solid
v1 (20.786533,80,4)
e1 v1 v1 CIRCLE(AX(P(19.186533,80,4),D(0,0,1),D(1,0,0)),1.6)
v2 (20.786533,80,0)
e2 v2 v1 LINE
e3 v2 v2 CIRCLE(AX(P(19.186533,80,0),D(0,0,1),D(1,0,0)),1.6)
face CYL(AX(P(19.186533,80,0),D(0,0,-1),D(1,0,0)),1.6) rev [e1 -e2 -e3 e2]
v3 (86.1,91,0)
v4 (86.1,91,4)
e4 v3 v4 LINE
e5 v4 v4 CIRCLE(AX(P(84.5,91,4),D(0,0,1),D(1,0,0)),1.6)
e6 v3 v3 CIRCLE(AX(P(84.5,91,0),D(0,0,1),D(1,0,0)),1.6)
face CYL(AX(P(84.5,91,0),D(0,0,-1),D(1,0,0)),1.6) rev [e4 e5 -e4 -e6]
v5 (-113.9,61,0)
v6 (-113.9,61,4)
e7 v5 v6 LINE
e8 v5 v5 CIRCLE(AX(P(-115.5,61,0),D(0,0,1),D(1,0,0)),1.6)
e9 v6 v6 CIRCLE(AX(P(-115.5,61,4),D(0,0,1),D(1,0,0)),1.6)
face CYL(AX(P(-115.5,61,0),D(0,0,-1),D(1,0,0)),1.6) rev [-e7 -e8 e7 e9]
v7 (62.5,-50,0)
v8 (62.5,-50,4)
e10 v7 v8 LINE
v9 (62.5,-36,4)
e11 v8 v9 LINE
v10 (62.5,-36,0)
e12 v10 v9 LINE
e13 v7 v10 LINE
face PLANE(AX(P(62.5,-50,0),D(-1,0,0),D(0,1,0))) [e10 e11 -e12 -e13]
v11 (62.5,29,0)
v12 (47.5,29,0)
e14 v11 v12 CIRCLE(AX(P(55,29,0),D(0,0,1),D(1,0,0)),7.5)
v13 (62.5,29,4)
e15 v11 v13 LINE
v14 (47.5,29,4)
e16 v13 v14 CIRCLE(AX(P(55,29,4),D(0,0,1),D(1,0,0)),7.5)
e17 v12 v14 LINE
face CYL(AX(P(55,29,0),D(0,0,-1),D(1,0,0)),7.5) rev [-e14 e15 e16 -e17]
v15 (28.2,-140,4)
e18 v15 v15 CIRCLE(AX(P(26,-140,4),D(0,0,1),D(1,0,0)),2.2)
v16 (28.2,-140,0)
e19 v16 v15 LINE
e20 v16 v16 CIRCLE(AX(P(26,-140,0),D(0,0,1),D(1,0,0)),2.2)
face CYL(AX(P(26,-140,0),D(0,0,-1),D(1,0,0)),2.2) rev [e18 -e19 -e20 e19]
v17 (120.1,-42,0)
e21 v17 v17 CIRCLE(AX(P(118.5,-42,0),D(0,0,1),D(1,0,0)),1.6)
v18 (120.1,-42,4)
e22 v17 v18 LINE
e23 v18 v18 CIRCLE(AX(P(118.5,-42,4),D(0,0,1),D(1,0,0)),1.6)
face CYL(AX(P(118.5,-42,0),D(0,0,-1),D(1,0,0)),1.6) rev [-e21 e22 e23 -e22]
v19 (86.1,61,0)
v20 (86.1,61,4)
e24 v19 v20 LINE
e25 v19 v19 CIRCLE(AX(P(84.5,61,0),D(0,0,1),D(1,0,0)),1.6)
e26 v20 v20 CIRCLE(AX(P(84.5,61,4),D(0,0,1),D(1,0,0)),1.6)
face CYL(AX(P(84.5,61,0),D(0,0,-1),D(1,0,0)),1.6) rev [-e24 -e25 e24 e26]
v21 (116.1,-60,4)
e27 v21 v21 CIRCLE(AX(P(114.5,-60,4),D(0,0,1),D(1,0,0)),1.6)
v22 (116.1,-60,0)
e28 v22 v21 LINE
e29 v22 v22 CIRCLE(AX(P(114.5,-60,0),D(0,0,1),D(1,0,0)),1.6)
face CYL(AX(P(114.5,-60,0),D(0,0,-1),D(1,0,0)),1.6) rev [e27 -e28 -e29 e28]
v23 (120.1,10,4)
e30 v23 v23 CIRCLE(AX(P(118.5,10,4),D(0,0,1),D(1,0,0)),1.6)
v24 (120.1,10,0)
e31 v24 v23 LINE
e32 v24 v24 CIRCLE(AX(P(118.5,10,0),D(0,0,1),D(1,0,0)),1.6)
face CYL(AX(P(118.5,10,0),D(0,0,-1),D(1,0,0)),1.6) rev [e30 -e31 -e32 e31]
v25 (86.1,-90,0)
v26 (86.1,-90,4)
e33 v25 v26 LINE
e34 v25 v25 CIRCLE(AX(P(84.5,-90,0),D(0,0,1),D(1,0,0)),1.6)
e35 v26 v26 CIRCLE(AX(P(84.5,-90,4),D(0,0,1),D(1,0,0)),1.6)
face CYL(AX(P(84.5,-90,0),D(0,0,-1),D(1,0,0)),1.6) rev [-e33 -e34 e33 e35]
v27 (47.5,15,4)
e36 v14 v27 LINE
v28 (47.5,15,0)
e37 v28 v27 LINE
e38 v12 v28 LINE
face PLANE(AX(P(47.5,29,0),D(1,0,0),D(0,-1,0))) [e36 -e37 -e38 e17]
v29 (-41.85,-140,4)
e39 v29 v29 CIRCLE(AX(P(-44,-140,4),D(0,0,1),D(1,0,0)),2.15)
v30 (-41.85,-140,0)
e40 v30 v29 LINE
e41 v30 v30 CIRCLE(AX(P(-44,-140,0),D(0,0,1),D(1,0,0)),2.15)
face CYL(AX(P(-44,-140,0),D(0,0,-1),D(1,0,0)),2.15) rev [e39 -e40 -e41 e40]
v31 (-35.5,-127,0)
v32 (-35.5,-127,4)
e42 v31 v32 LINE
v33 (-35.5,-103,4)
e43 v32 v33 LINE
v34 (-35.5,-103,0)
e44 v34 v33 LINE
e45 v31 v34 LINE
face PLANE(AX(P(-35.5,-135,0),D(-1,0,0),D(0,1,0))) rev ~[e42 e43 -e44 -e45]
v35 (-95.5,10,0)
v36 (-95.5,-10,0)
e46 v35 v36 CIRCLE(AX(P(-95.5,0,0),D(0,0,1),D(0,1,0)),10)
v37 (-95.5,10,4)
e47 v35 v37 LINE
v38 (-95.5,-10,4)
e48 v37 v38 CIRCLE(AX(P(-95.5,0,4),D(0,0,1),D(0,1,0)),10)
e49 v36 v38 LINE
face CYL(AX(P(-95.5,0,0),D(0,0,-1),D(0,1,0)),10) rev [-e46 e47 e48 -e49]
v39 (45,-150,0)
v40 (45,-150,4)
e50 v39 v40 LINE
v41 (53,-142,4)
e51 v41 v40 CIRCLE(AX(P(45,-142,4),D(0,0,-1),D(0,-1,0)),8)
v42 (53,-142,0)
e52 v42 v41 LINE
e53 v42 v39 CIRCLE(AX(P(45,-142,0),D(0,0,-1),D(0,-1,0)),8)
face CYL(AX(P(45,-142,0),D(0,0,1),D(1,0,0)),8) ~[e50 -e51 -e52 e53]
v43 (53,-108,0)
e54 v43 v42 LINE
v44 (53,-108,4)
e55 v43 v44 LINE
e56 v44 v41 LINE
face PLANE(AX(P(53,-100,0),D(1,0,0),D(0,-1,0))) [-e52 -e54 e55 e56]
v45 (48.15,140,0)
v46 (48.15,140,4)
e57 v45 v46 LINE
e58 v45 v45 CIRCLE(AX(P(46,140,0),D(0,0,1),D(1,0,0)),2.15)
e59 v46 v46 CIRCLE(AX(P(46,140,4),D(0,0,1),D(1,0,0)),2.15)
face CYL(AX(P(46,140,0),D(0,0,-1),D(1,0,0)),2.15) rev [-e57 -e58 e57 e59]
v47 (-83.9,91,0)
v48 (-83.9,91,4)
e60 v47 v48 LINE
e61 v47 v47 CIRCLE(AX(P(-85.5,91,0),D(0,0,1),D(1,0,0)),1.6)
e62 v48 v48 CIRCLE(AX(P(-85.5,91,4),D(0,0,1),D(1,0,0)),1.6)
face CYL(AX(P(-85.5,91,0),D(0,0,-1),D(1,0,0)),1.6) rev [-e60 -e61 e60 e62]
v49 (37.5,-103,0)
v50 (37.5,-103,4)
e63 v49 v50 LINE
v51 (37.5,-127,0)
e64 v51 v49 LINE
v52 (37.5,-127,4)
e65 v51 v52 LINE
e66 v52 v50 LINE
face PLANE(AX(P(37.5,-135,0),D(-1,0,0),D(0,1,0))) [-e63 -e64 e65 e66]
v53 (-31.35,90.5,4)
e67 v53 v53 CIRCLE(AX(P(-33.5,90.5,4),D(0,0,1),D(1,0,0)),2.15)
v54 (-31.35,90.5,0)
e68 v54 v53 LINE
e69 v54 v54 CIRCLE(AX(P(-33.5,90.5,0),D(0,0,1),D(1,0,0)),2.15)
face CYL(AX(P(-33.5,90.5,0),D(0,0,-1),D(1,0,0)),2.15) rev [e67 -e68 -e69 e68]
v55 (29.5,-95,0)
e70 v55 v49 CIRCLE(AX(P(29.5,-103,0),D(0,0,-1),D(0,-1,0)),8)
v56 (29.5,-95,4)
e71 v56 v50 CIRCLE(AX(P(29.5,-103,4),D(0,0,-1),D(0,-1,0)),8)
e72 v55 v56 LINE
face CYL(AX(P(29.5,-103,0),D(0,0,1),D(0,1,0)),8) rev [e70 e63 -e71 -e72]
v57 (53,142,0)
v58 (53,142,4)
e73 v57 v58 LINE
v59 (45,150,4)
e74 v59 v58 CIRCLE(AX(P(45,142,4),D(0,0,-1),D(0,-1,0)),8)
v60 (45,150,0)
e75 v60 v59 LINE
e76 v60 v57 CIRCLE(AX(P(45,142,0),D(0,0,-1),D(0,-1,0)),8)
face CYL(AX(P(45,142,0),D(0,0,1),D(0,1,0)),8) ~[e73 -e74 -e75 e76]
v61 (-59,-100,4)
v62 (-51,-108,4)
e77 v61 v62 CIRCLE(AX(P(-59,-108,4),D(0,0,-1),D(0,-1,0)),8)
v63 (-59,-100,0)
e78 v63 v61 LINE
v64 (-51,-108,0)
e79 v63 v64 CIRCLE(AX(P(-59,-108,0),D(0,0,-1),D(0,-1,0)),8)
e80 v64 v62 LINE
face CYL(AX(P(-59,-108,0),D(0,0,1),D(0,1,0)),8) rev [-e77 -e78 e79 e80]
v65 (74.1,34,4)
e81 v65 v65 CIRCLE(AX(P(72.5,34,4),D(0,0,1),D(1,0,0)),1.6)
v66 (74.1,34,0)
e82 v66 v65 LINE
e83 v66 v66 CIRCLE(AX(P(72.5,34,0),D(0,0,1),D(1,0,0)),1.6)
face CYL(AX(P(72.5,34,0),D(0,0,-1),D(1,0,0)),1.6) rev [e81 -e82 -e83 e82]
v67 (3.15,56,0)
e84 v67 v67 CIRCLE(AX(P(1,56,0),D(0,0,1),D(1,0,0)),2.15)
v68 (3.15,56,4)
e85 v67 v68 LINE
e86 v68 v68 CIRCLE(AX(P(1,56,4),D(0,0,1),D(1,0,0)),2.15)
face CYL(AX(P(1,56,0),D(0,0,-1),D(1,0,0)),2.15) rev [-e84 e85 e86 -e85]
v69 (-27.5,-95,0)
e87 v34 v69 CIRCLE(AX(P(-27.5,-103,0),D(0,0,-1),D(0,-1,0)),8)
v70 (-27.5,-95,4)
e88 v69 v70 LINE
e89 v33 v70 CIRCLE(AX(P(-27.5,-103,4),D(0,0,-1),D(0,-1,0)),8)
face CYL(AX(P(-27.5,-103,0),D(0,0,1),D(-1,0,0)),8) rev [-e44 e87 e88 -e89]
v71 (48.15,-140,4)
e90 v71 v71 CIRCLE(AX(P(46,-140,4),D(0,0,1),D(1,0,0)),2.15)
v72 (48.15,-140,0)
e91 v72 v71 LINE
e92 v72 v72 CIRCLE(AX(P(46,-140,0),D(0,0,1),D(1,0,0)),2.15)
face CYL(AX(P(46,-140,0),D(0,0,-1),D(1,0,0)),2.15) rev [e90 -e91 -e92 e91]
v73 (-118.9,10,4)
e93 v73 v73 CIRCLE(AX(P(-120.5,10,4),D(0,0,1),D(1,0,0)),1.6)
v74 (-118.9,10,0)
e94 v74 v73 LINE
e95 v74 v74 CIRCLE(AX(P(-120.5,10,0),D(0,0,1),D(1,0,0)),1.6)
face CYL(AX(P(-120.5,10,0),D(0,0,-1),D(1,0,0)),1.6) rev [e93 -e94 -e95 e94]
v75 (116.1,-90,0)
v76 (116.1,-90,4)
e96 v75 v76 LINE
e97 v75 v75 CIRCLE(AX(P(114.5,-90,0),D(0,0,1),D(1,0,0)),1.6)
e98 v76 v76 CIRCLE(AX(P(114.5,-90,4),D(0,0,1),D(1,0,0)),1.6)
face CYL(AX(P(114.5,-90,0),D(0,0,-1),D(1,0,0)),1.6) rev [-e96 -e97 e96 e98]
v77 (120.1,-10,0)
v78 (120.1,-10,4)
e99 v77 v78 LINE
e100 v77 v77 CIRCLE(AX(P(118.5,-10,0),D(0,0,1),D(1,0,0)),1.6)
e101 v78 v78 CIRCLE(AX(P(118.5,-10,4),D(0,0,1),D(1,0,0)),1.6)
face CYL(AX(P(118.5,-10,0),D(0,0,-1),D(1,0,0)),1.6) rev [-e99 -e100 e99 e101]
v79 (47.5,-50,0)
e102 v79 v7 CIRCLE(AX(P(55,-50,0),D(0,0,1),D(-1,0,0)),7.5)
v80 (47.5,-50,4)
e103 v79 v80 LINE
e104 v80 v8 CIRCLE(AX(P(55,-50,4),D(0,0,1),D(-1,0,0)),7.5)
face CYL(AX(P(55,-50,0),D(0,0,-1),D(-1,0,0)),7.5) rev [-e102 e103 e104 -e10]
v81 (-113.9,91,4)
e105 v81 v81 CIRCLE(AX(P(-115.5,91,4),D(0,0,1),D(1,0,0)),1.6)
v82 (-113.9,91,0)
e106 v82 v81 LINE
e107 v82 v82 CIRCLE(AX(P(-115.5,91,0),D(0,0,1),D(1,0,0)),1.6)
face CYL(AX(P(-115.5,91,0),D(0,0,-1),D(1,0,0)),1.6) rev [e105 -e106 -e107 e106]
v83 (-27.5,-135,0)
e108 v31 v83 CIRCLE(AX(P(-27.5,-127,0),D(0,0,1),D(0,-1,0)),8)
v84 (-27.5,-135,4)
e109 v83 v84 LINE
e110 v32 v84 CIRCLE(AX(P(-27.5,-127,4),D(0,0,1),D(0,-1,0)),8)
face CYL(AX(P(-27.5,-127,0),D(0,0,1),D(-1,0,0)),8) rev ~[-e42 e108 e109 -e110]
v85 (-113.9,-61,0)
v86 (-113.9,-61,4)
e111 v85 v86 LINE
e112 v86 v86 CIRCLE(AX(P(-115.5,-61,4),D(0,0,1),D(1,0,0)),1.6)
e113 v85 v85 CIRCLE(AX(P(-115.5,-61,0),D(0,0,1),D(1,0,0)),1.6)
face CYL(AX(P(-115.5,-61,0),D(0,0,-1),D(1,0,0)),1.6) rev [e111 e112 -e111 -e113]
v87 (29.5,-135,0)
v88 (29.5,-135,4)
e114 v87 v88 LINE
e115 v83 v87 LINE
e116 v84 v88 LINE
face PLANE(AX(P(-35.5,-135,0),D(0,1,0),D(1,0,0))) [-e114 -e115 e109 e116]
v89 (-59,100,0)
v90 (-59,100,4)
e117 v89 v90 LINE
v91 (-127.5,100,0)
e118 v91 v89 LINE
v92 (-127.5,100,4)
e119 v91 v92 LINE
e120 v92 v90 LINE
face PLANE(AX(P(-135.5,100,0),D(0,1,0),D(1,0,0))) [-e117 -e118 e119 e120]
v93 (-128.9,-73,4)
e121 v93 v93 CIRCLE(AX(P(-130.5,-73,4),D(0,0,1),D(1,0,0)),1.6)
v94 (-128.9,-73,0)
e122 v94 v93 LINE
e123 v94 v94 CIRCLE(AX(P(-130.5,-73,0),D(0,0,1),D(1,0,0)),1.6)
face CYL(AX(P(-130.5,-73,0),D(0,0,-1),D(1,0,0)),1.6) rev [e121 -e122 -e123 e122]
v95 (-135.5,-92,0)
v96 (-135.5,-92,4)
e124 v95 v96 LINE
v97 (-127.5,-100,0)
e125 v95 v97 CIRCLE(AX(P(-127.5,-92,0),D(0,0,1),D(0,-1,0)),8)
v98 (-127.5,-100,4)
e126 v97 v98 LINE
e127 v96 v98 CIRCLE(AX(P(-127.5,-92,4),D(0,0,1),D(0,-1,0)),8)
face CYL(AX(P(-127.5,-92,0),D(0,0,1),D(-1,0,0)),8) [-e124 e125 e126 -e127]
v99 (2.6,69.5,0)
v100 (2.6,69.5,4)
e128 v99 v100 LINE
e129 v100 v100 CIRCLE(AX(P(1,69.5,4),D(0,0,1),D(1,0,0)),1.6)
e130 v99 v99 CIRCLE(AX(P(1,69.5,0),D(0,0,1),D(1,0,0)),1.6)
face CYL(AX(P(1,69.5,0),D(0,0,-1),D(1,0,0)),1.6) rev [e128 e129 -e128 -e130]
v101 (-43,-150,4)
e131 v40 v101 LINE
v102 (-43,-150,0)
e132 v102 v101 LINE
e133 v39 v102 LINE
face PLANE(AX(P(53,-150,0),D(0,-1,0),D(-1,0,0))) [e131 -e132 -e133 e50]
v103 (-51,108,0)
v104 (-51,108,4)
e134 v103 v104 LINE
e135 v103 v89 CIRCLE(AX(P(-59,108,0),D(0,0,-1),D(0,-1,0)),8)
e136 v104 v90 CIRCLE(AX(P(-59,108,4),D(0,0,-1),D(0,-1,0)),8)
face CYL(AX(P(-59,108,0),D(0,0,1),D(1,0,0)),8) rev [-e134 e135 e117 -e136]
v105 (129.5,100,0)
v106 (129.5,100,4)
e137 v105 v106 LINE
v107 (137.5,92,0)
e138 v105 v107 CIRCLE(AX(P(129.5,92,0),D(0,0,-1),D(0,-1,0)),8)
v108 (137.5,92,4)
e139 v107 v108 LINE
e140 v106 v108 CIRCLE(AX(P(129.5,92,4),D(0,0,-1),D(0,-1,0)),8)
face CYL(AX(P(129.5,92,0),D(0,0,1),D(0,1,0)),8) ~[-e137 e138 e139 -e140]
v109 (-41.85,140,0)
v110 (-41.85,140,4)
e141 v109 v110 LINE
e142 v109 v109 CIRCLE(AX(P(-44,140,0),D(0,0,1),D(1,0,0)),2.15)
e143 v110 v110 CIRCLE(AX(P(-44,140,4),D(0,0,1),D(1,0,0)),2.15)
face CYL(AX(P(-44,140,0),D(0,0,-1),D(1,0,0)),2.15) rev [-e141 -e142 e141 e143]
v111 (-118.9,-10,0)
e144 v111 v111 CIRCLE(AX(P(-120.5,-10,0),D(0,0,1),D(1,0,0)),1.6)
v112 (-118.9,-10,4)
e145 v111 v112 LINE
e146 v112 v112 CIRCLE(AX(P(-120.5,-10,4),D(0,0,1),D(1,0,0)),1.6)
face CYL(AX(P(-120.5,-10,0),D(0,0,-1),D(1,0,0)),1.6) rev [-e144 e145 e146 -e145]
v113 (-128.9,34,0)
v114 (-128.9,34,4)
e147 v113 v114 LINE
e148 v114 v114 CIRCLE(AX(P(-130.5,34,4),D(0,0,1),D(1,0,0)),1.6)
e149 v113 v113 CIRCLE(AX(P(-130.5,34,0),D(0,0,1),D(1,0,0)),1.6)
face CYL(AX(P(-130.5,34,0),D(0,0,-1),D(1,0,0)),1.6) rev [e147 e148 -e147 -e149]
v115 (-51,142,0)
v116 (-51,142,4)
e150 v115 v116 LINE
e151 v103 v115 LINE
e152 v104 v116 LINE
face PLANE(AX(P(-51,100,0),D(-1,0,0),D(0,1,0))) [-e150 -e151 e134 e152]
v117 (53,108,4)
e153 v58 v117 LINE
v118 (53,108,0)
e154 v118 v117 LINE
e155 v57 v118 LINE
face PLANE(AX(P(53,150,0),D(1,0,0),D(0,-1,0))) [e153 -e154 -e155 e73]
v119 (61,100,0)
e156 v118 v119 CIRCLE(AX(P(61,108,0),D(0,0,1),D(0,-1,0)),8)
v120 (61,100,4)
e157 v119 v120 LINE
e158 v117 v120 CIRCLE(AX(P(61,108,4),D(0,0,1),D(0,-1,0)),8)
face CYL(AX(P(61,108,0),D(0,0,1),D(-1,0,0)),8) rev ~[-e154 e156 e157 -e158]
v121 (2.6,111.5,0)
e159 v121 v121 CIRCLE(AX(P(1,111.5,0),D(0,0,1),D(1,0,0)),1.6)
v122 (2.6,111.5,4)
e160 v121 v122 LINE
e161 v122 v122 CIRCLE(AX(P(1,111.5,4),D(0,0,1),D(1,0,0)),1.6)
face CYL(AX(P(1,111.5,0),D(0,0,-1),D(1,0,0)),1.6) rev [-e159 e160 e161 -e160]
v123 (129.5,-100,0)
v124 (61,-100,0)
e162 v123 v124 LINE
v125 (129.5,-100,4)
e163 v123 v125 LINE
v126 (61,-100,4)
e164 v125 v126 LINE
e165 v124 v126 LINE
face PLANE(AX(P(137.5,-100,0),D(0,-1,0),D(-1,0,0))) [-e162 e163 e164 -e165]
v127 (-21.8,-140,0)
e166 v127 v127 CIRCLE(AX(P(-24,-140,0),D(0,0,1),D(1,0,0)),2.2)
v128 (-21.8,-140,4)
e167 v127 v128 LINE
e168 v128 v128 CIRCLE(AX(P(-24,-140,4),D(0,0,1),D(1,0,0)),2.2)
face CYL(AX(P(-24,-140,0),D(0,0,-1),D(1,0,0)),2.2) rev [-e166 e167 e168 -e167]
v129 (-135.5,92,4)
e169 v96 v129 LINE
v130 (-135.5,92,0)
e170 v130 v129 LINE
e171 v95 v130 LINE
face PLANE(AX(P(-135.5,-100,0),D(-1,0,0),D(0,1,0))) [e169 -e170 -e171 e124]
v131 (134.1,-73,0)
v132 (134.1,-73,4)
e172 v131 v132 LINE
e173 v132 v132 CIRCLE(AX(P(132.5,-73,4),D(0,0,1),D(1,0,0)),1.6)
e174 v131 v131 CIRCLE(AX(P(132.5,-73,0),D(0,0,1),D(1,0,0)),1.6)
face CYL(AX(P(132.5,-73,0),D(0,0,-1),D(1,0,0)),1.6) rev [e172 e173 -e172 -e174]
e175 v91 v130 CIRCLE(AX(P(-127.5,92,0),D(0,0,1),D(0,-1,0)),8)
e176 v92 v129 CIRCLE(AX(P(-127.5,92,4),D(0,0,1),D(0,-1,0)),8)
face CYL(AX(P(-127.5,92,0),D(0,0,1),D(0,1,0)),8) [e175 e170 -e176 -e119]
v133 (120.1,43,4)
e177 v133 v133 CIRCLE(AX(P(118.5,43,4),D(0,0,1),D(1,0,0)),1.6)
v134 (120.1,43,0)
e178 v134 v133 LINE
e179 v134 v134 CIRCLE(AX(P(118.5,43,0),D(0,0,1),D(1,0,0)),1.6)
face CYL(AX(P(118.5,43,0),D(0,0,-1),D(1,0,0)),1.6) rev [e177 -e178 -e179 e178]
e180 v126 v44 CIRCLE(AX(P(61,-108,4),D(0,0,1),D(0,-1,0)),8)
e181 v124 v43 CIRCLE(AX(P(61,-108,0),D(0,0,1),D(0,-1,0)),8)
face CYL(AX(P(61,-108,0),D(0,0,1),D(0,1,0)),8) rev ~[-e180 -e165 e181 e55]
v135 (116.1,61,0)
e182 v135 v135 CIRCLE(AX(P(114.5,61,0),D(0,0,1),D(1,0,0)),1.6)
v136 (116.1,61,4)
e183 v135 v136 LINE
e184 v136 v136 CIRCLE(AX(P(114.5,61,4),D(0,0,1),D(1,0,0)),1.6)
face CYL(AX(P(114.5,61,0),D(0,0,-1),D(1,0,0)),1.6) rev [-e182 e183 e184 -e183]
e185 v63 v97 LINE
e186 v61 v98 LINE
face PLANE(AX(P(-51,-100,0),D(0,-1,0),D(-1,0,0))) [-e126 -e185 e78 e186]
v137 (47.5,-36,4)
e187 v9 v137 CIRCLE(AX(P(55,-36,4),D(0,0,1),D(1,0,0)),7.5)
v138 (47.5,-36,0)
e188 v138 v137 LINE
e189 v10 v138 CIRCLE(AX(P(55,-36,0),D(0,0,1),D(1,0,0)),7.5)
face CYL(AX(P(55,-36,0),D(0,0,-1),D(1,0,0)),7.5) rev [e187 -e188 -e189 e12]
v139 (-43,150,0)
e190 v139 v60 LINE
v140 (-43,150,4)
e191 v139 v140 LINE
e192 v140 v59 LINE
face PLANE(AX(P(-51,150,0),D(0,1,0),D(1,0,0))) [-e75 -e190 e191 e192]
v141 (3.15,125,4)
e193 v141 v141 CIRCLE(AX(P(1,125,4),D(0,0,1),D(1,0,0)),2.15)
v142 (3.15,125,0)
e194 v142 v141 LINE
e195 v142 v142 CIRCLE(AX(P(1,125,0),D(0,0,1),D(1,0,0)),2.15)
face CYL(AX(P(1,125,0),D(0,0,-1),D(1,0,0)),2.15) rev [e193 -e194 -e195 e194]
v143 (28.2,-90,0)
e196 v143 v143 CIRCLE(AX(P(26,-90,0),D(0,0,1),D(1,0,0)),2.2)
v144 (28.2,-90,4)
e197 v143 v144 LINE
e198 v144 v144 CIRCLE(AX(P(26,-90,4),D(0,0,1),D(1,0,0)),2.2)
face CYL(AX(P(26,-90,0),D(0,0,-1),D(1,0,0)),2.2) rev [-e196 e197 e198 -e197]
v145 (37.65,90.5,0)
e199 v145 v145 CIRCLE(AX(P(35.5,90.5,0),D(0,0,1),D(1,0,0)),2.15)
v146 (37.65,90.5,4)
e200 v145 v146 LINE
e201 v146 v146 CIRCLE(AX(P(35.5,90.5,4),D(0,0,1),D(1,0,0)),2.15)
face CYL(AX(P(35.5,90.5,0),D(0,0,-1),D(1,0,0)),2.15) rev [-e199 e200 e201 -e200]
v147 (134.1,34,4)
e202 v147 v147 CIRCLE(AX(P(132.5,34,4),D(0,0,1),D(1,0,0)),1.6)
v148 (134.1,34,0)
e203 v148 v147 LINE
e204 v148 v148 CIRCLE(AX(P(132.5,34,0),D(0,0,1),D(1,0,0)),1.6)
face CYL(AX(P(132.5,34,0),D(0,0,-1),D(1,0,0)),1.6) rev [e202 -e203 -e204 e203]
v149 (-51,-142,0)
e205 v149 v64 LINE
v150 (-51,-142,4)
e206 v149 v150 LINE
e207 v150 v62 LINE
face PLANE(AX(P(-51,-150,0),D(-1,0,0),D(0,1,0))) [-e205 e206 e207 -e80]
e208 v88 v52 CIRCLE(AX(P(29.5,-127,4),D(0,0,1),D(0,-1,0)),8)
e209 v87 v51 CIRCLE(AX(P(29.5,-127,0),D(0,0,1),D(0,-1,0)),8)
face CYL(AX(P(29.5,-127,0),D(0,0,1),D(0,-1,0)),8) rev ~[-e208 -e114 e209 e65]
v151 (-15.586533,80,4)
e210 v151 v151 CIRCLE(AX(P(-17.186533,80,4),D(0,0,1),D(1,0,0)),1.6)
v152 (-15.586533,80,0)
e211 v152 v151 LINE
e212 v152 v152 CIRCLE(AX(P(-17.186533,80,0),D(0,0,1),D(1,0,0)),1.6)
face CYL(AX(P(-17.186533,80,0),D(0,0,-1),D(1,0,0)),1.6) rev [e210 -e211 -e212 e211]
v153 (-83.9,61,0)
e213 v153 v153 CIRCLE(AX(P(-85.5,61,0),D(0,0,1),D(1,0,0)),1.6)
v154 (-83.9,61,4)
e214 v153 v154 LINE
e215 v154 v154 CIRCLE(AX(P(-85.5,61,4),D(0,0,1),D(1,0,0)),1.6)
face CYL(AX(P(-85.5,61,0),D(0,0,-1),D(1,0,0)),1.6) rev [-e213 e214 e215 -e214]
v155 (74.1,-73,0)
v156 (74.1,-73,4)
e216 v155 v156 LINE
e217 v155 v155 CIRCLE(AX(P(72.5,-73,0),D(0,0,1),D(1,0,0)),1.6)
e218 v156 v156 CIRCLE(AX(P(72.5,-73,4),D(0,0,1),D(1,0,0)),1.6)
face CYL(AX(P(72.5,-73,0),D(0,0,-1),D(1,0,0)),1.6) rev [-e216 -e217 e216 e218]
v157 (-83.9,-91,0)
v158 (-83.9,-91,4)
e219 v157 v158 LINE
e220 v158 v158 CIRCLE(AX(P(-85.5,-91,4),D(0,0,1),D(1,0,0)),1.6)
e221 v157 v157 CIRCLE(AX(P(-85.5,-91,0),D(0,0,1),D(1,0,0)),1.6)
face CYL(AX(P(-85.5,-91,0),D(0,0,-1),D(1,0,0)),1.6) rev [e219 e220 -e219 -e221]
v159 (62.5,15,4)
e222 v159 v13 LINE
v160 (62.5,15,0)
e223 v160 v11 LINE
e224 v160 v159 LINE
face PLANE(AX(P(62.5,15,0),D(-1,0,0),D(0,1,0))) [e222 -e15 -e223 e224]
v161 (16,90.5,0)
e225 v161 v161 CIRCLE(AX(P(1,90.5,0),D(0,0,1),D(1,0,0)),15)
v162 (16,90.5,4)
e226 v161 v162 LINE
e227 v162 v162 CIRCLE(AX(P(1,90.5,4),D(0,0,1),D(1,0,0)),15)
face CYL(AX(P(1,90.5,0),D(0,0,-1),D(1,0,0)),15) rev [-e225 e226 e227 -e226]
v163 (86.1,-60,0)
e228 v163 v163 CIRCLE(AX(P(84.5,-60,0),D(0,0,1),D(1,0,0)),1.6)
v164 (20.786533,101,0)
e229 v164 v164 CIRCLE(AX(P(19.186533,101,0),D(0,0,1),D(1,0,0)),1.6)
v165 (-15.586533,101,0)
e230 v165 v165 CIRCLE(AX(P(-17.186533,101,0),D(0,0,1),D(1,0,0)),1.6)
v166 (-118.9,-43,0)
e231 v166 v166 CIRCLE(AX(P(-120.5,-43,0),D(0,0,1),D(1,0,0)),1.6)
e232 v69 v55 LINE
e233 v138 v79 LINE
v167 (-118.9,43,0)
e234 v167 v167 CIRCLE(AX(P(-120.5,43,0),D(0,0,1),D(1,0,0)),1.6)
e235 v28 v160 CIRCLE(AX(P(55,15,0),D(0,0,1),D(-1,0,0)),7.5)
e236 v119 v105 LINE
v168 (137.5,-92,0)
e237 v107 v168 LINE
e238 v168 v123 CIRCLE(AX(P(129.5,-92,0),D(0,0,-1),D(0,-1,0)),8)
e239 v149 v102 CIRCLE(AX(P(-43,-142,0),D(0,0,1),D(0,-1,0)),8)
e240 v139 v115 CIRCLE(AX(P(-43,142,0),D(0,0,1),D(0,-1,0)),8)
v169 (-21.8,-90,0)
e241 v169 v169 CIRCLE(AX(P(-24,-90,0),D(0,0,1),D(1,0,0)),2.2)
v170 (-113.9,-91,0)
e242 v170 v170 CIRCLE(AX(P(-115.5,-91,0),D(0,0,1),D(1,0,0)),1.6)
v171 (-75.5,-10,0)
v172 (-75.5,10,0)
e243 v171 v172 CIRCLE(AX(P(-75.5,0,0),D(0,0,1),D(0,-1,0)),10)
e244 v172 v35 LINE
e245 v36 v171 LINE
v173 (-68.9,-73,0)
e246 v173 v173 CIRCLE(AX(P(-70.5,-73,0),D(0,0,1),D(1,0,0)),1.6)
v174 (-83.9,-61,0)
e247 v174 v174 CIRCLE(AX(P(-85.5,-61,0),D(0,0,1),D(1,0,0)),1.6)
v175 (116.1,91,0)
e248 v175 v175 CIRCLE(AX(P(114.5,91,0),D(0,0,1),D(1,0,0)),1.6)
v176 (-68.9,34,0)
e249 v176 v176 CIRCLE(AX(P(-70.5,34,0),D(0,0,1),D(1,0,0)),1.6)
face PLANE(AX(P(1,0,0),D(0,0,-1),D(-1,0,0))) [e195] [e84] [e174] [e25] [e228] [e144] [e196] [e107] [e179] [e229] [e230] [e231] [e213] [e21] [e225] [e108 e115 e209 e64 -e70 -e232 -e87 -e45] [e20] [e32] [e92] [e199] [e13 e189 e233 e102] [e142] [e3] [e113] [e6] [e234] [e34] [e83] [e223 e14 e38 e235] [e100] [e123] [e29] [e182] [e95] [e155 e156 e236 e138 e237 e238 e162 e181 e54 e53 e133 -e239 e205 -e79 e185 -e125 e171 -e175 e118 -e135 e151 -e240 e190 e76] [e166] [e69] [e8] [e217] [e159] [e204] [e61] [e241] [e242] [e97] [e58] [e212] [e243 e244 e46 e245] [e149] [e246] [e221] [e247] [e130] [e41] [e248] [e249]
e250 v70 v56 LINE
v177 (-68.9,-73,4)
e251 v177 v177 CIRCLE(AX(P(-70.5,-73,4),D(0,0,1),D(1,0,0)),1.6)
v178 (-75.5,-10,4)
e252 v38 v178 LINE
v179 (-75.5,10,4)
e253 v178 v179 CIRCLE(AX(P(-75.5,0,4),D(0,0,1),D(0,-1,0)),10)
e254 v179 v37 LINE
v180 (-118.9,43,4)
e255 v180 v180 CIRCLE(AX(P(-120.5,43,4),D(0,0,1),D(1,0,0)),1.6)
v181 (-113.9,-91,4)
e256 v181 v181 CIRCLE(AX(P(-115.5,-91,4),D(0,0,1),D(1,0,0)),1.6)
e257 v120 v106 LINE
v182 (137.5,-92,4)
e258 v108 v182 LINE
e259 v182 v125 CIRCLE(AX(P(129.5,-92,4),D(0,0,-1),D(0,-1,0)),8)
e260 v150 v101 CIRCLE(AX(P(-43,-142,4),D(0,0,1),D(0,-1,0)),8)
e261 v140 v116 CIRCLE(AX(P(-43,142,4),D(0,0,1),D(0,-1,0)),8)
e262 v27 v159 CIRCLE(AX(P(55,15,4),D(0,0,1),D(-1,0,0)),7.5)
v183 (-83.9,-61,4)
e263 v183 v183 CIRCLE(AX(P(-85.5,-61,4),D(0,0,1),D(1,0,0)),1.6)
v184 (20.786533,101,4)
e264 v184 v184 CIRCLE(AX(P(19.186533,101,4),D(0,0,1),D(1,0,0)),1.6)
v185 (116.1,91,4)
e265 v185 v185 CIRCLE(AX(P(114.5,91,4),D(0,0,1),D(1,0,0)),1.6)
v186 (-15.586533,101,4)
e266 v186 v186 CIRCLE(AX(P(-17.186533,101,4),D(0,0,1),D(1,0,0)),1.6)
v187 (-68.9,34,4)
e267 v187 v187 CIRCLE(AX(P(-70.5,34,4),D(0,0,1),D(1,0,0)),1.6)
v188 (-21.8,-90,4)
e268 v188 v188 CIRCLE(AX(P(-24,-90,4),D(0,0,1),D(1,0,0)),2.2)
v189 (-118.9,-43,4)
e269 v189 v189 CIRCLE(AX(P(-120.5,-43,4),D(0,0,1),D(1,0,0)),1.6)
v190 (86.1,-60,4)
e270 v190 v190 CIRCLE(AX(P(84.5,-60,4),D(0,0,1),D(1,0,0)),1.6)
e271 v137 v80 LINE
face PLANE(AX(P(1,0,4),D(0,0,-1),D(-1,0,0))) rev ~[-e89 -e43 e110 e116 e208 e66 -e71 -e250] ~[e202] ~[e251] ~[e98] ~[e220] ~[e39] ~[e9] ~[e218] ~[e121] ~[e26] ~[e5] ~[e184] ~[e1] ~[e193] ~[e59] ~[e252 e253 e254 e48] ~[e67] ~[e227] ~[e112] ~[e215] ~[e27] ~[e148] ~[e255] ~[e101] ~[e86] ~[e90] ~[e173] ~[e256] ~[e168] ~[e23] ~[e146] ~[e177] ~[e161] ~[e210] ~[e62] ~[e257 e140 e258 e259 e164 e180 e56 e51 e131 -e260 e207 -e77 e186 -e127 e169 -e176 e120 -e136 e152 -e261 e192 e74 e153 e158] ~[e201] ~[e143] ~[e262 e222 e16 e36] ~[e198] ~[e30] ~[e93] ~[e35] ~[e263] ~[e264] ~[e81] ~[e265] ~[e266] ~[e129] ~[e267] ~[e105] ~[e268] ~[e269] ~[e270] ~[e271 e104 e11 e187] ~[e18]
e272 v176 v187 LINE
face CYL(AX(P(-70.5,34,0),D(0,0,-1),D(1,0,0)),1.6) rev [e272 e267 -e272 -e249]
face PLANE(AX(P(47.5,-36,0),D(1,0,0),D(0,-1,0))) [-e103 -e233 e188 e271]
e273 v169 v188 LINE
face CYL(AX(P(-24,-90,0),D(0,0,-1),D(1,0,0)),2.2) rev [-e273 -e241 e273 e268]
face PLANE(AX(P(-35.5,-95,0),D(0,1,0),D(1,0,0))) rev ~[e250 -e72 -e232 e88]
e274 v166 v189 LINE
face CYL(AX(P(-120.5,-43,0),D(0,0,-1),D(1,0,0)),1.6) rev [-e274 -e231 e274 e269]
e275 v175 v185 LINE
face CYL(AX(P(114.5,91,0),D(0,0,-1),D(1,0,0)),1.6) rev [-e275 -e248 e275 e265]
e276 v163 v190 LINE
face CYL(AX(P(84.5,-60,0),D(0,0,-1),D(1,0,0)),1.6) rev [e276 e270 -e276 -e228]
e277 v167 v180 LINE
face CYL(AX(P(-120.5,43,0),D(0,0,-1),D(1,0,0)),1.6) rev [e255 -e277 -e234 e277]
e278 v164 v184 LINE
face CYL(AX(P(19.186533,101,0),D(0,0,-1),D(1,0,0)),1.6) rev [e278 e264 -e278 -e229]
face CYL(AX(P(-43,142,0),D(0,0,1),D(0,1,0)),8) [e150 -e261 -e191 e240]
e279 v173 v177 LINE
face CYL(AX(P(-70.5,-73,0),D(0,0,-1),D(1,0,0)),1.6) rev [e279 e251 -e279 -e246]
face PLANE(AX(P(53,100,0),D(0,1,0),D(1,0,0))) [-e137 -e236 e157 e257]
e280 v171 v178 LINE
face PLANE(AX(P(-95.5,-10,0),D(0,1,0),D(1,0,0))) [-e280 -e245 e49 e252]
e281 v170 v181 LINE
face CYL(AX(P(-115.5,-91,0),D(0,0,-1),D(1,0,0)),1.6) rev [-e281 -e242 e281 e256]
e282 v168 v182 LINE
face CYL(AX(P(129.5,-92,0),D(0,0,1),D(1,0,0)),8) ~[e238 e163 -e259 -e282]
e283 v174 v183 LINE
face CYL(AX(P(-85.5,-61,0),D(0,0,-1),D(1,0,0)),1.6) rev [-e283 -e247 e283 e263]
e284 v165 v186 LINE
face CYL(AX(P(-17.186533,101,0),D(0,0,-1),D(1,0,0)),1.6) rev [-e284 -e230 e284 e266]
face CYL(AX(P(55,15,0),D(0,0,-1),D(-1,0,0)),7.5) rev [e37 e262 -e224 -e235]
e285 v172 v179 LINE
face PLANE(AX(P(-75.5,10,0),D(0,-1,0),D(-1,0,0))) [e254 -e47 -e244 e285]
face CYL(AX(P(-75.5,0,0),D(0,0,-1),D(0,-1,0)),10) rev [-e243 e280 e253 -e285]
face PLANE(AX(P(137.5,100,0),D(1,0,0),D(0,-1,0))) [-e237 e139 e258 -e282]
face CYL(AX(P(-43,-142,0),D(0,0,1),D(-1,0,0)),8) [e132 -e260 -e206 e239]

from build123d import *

# Parameters (mm, degrees)
SKETCH_281X300_25_R   = 1.6
SKETCH_281X300_25_R_2 = 15
SKETCH_281X300_25_R_3 = 2.15
SKETCH_281X300_25_R_4 = 2.2
SKETCH_281X300_25_W   = 73
SKETCH_281X300_25_H   = 40
F_4MM_DEPTH           = 4
FILLET_1_R            = 8


with BuildPart() as part:
    # Sketch 281x300__25 → 4mm (new body)
    with BuildSketch(Plane.XY):
        Polygon((-51, 150), (53, 150), (53, 100), (137.5, 100), (137.5, -100), (53, -100), (53, -150), (-51, -150), (-51, -100), (-135.5, -100), (-135.5, 100), (-51, 100), align=None)
        with Locations((84.5, -60)):
            Circle(SKETCH_281X300_25_R, mode=Mode.SUBTRACT)
        with Locations((114.5, -60)):
            Circle(SKETCH_281X300_25_R, mode=Mode.SUBTRACT)
        with Locations((84.5, 61)):
            Circle(SKETCH_281X300_25_R, mode=Mode.SUBTRACT)
        with Locations((1, 90.5)):
            Circle(SKETCH_281X300_25_R_2, mode=Mode.SUBTRACT)
        with Locations((1, 125)):
            Circle(SKETCH_281X300_25_R_3, mode=Mode.SUBTRACT)
        with Locations((-33.5, 90.5)):
            Circle(SKETCH_281X300_25_R_3, mode=Mode.SUBTRACT)
        with Locations((35.5, 90.5)):
            Circle(SKETCH_281X300_25_R_3, mode=Mode.SUBTRACT)
        with Locations((-44, 140)):
            Circle(SKETCH_281X300_25_R_3, mode=Mode.SUBTRACT)
        with Locations((114.5, 61)):
            Circle(SKETCH_281X300_25_R, mode=Mode.SUBTRACT)
        with Locations((1, 56)):
            Circle(SKETCH_281X300_25_R_3, mode=Mode.SUBTRACT)
        with Locations((26, -140)):
            Circle(SKETCH_281X300_25_R_4, mode=Mode.SUBTRACT)
        with Locations((-24, -140)):
            Circle(SKETCH_281X300_25_R_4, mode=Mode.SUBTRACT)
        with Locations((-24, -90)):
            Circle(SKETCH_281X300_25_R_4, mode=Mode.SUBTRACT)
        with Locations((26, -90)):
            Circle(SKETCH_281X300_25_R_4, mode=Mode.SUBTRACT)
        with Locations((1, 111.5)):
            Circle(SKETCH_281X300_25_R, mode=Mode.SUBTRACT)
        with Locations((84.5, -90)):
            Circle(SKETCH_281X300_25_R, mode=Mode.SUBTRACT)
        with Locations((84.5, 91)):
            Circle(SKETCH_281X300_25_R, mode=Mode.SUBTRACT)
        with Locations((114.5, 91)):
            Circle(SKETCH_281X300_25_R, mode=Mode.SUBTRACT)
        with Locations((114.5, -90)):
            Circle(SKETCH_281X300_25_R, mode=Mode.SUBTRACT)
        with Locations((118.5, 10)):
            Circle(SKETCH_281X300_25_R, mode=Mode.SUBTRACT)
        with Locations((118.5, -10)):
            Circle(SKETCH_281X300_25_R, mode=Mode.SUBTRACT)
        with Locations((-120.5, 10)):
            Circle(SKETCH_281X300_25_R, mode=Mode.SUBTRACT)
        with Locations((-120.5, -10)):
            Circle(SKETCH_281X300_25_R, mode=Mode.SUBTRACT)
        with Locations((-115.5, -91)):
            Circle(SKETCH_281X300_25_R, mode=Mode.SUBTRACT)
        with Locations((-85.5, -91)):
            Circle(SKETCH_281X300_25_R, mode=Mode.SUBTRACT)
        with Locations((-115.5, 91)):
            Circle(SKETCH_281X300_25_R, mode=Mode.SUBTRACT)
        with Locations((-85.5, 91)):
            Circle(SKETCH_281X300_25_R, mode=Mode.SUBTRACT)
        with Locations((-85.5, 61)):
            Circle(SKETCH_281X300_25_R, mode=Mode.SUBTRACT)
        with Locations((-115.5, 61)):
            Circle(SKETCH_281X300_25_R, mode=Mode.SUBTRACT)
        with Locations((-85.5, -61)):
            Circle(SKETCH_281X300_25_R, mode=Mode.SUBTRACT)
        with Locations((-115.5, -61)):
            Circle(SKETCH_281X300_25_R, mode=Mode.SUBTRACT)
        with Locations((118.5, 43)):
            Circle(SKETCH_281X300_25_R, mode=Mode.SUBTRACT)
        with Locations((118.5, -42)):
            Circle(SKETCH_281X300_25_R, mode=Mode.SUBTRACT)
        with Locations((-120.5, 43)):
            Circle(SKETCH_281X300_25_R, mode=Mode.SUBTRACT)
        with Locations((46, 140)):
            Circle(SKETCH_281X300_25_R_3, mode=Mode.SUBTRACT)
        with Locations((-44, -140)):
            Circle(SKETCH_281X300_25_R_3, mode=Mode.SUBTRACT)
        with Locations((46, -140)):
            Circle(SKETCH_281X300_25_R_3, mode=Mode.SUBTRACT)
        with Locations((19.186533479, 101)):
            Circle(SKETCH_281X300_25_R, mode=Mode.SUBTRACT)
        with Locations((19.186533479, 80)):
            Circle(SKETCH_281X300_25_R, mode=Mode.SUBTRACT)
        with Locations((1, 69.5)):
            Circle(SKETCH_281X300_25_R, mode=Mode.SUBTRACT)
        with Locations((-17.186533479, 80)):
            Circle(SKETCH_281X300_25_R, mode=Mode.SUBTRACT)
        with Locations((-17.186533479, 101)):
            Circle(SKETCH_281X300_25_R, mode=Mode.SUBTRACT)
        with Locations((-120.5, -43)):
            Circle(SKETCH_281X300_25_R, mode=Mode.SUBTRACT)
        with Locations((132.5, 34)):
            Circle(SKETCH_281X300_25_R, mode=Mode.SUBTRACT)
        with Locations((132.5, -73)):
            Circle(SKETCH_281X300_25_R, mode=Mode.SUBTRACT)
        with Locations((72.5, 34)):
            Circle(SKETCH_281X300_25_R, mode=Mode.SUBTRACT)
        with Locations((72.5, -73)):
            Circle(SKETCH_281X300_25_R, mode=Mode.SUBTRACT)
        with Locations((-130.5, 34)):
            Circle(SKETCH_281X300_25_R, mode=Mode.SUBTRACT)
        with Locations((-70.5, 34)):
            Circle(SKETCH_281X300_25_R, mode=Mode.SUBTRACT)
        with Locations((-130.5, -73)):
            Circle(SKETCH_281X300_25_R, mode=Mode.SUBTRACT)
        with Locations((-70.5, -73)):
            Circle(SKETCH_281X300_25_R, mode=Mode.SUBTRACT)
        with BuildLine():
            Line((62.5, -50), (62.5, -36))
            ThreePointArc((62.5, -36), (55, -28.5), (47.5, -36))
            Line((47.5, -36), (47.5, -50))
            ThreePointArc((47.5, -50), (55, -57.5), (62.5, -50))
        make_face(mode=Mode.SUBTRACT)
        with BuildLine():
            Line((-95.5, -10), (-75.5, -10))
            ThreePointArc((-75.5, -10), (-65.5, 0), (-75.5, 10))
            Line((-75.5, 10), (-95.5, 10))
            ThreePointArc((-95.5, 10), (-105.5, 0), (-95.5, -10))
        make_face(mode=Mode.SUBTRACT)
        with Locations((1, -115)):
            Rectangle(SKETCH_281X300_25_W, SKETCH_281X300_25_H, mode=Mode.SUBTRACT)
        with BuildLine():
            Line((47.5, 29), (47.5, 15))
            ThreePointArc((47.5, 15), (55, 7.5), (62.5, 15))
            Line((62.5, 15), (62.5, 29))
            ThreePointArc((62.5, 29), (55, 36.5), (47.5, 29))
        make_face(mode=Mode.SUBTRACT)
    extrude(amount=F_4MM_DEPTH)

    # Fillet 1
    fillet_1_edges = [part.edges().sort_by_distance(p)[0] for p in [
        (53, -150, 2),
        (-51, -150, 2),
        (-51, -100, 2),
        (-135.5, -100, 2),
        (-135.5, 100, 2),
        (-51, 100, 2),
        (-51, 150, 2),
        (53, 150, 2),
        (53, 100, 2),
        (137.5, 100, 2),
        (137.5, -100, 2),
        (53, -100, 2),
        (-35.5, -95, 2),
        (-35.5, -135, 2),
        (37.5, -135, 2),
        (37.5, -95, 2),
    ]]
    fillet(fillet_1_edges, radius=FILLET_1_R)


solid = part.part
